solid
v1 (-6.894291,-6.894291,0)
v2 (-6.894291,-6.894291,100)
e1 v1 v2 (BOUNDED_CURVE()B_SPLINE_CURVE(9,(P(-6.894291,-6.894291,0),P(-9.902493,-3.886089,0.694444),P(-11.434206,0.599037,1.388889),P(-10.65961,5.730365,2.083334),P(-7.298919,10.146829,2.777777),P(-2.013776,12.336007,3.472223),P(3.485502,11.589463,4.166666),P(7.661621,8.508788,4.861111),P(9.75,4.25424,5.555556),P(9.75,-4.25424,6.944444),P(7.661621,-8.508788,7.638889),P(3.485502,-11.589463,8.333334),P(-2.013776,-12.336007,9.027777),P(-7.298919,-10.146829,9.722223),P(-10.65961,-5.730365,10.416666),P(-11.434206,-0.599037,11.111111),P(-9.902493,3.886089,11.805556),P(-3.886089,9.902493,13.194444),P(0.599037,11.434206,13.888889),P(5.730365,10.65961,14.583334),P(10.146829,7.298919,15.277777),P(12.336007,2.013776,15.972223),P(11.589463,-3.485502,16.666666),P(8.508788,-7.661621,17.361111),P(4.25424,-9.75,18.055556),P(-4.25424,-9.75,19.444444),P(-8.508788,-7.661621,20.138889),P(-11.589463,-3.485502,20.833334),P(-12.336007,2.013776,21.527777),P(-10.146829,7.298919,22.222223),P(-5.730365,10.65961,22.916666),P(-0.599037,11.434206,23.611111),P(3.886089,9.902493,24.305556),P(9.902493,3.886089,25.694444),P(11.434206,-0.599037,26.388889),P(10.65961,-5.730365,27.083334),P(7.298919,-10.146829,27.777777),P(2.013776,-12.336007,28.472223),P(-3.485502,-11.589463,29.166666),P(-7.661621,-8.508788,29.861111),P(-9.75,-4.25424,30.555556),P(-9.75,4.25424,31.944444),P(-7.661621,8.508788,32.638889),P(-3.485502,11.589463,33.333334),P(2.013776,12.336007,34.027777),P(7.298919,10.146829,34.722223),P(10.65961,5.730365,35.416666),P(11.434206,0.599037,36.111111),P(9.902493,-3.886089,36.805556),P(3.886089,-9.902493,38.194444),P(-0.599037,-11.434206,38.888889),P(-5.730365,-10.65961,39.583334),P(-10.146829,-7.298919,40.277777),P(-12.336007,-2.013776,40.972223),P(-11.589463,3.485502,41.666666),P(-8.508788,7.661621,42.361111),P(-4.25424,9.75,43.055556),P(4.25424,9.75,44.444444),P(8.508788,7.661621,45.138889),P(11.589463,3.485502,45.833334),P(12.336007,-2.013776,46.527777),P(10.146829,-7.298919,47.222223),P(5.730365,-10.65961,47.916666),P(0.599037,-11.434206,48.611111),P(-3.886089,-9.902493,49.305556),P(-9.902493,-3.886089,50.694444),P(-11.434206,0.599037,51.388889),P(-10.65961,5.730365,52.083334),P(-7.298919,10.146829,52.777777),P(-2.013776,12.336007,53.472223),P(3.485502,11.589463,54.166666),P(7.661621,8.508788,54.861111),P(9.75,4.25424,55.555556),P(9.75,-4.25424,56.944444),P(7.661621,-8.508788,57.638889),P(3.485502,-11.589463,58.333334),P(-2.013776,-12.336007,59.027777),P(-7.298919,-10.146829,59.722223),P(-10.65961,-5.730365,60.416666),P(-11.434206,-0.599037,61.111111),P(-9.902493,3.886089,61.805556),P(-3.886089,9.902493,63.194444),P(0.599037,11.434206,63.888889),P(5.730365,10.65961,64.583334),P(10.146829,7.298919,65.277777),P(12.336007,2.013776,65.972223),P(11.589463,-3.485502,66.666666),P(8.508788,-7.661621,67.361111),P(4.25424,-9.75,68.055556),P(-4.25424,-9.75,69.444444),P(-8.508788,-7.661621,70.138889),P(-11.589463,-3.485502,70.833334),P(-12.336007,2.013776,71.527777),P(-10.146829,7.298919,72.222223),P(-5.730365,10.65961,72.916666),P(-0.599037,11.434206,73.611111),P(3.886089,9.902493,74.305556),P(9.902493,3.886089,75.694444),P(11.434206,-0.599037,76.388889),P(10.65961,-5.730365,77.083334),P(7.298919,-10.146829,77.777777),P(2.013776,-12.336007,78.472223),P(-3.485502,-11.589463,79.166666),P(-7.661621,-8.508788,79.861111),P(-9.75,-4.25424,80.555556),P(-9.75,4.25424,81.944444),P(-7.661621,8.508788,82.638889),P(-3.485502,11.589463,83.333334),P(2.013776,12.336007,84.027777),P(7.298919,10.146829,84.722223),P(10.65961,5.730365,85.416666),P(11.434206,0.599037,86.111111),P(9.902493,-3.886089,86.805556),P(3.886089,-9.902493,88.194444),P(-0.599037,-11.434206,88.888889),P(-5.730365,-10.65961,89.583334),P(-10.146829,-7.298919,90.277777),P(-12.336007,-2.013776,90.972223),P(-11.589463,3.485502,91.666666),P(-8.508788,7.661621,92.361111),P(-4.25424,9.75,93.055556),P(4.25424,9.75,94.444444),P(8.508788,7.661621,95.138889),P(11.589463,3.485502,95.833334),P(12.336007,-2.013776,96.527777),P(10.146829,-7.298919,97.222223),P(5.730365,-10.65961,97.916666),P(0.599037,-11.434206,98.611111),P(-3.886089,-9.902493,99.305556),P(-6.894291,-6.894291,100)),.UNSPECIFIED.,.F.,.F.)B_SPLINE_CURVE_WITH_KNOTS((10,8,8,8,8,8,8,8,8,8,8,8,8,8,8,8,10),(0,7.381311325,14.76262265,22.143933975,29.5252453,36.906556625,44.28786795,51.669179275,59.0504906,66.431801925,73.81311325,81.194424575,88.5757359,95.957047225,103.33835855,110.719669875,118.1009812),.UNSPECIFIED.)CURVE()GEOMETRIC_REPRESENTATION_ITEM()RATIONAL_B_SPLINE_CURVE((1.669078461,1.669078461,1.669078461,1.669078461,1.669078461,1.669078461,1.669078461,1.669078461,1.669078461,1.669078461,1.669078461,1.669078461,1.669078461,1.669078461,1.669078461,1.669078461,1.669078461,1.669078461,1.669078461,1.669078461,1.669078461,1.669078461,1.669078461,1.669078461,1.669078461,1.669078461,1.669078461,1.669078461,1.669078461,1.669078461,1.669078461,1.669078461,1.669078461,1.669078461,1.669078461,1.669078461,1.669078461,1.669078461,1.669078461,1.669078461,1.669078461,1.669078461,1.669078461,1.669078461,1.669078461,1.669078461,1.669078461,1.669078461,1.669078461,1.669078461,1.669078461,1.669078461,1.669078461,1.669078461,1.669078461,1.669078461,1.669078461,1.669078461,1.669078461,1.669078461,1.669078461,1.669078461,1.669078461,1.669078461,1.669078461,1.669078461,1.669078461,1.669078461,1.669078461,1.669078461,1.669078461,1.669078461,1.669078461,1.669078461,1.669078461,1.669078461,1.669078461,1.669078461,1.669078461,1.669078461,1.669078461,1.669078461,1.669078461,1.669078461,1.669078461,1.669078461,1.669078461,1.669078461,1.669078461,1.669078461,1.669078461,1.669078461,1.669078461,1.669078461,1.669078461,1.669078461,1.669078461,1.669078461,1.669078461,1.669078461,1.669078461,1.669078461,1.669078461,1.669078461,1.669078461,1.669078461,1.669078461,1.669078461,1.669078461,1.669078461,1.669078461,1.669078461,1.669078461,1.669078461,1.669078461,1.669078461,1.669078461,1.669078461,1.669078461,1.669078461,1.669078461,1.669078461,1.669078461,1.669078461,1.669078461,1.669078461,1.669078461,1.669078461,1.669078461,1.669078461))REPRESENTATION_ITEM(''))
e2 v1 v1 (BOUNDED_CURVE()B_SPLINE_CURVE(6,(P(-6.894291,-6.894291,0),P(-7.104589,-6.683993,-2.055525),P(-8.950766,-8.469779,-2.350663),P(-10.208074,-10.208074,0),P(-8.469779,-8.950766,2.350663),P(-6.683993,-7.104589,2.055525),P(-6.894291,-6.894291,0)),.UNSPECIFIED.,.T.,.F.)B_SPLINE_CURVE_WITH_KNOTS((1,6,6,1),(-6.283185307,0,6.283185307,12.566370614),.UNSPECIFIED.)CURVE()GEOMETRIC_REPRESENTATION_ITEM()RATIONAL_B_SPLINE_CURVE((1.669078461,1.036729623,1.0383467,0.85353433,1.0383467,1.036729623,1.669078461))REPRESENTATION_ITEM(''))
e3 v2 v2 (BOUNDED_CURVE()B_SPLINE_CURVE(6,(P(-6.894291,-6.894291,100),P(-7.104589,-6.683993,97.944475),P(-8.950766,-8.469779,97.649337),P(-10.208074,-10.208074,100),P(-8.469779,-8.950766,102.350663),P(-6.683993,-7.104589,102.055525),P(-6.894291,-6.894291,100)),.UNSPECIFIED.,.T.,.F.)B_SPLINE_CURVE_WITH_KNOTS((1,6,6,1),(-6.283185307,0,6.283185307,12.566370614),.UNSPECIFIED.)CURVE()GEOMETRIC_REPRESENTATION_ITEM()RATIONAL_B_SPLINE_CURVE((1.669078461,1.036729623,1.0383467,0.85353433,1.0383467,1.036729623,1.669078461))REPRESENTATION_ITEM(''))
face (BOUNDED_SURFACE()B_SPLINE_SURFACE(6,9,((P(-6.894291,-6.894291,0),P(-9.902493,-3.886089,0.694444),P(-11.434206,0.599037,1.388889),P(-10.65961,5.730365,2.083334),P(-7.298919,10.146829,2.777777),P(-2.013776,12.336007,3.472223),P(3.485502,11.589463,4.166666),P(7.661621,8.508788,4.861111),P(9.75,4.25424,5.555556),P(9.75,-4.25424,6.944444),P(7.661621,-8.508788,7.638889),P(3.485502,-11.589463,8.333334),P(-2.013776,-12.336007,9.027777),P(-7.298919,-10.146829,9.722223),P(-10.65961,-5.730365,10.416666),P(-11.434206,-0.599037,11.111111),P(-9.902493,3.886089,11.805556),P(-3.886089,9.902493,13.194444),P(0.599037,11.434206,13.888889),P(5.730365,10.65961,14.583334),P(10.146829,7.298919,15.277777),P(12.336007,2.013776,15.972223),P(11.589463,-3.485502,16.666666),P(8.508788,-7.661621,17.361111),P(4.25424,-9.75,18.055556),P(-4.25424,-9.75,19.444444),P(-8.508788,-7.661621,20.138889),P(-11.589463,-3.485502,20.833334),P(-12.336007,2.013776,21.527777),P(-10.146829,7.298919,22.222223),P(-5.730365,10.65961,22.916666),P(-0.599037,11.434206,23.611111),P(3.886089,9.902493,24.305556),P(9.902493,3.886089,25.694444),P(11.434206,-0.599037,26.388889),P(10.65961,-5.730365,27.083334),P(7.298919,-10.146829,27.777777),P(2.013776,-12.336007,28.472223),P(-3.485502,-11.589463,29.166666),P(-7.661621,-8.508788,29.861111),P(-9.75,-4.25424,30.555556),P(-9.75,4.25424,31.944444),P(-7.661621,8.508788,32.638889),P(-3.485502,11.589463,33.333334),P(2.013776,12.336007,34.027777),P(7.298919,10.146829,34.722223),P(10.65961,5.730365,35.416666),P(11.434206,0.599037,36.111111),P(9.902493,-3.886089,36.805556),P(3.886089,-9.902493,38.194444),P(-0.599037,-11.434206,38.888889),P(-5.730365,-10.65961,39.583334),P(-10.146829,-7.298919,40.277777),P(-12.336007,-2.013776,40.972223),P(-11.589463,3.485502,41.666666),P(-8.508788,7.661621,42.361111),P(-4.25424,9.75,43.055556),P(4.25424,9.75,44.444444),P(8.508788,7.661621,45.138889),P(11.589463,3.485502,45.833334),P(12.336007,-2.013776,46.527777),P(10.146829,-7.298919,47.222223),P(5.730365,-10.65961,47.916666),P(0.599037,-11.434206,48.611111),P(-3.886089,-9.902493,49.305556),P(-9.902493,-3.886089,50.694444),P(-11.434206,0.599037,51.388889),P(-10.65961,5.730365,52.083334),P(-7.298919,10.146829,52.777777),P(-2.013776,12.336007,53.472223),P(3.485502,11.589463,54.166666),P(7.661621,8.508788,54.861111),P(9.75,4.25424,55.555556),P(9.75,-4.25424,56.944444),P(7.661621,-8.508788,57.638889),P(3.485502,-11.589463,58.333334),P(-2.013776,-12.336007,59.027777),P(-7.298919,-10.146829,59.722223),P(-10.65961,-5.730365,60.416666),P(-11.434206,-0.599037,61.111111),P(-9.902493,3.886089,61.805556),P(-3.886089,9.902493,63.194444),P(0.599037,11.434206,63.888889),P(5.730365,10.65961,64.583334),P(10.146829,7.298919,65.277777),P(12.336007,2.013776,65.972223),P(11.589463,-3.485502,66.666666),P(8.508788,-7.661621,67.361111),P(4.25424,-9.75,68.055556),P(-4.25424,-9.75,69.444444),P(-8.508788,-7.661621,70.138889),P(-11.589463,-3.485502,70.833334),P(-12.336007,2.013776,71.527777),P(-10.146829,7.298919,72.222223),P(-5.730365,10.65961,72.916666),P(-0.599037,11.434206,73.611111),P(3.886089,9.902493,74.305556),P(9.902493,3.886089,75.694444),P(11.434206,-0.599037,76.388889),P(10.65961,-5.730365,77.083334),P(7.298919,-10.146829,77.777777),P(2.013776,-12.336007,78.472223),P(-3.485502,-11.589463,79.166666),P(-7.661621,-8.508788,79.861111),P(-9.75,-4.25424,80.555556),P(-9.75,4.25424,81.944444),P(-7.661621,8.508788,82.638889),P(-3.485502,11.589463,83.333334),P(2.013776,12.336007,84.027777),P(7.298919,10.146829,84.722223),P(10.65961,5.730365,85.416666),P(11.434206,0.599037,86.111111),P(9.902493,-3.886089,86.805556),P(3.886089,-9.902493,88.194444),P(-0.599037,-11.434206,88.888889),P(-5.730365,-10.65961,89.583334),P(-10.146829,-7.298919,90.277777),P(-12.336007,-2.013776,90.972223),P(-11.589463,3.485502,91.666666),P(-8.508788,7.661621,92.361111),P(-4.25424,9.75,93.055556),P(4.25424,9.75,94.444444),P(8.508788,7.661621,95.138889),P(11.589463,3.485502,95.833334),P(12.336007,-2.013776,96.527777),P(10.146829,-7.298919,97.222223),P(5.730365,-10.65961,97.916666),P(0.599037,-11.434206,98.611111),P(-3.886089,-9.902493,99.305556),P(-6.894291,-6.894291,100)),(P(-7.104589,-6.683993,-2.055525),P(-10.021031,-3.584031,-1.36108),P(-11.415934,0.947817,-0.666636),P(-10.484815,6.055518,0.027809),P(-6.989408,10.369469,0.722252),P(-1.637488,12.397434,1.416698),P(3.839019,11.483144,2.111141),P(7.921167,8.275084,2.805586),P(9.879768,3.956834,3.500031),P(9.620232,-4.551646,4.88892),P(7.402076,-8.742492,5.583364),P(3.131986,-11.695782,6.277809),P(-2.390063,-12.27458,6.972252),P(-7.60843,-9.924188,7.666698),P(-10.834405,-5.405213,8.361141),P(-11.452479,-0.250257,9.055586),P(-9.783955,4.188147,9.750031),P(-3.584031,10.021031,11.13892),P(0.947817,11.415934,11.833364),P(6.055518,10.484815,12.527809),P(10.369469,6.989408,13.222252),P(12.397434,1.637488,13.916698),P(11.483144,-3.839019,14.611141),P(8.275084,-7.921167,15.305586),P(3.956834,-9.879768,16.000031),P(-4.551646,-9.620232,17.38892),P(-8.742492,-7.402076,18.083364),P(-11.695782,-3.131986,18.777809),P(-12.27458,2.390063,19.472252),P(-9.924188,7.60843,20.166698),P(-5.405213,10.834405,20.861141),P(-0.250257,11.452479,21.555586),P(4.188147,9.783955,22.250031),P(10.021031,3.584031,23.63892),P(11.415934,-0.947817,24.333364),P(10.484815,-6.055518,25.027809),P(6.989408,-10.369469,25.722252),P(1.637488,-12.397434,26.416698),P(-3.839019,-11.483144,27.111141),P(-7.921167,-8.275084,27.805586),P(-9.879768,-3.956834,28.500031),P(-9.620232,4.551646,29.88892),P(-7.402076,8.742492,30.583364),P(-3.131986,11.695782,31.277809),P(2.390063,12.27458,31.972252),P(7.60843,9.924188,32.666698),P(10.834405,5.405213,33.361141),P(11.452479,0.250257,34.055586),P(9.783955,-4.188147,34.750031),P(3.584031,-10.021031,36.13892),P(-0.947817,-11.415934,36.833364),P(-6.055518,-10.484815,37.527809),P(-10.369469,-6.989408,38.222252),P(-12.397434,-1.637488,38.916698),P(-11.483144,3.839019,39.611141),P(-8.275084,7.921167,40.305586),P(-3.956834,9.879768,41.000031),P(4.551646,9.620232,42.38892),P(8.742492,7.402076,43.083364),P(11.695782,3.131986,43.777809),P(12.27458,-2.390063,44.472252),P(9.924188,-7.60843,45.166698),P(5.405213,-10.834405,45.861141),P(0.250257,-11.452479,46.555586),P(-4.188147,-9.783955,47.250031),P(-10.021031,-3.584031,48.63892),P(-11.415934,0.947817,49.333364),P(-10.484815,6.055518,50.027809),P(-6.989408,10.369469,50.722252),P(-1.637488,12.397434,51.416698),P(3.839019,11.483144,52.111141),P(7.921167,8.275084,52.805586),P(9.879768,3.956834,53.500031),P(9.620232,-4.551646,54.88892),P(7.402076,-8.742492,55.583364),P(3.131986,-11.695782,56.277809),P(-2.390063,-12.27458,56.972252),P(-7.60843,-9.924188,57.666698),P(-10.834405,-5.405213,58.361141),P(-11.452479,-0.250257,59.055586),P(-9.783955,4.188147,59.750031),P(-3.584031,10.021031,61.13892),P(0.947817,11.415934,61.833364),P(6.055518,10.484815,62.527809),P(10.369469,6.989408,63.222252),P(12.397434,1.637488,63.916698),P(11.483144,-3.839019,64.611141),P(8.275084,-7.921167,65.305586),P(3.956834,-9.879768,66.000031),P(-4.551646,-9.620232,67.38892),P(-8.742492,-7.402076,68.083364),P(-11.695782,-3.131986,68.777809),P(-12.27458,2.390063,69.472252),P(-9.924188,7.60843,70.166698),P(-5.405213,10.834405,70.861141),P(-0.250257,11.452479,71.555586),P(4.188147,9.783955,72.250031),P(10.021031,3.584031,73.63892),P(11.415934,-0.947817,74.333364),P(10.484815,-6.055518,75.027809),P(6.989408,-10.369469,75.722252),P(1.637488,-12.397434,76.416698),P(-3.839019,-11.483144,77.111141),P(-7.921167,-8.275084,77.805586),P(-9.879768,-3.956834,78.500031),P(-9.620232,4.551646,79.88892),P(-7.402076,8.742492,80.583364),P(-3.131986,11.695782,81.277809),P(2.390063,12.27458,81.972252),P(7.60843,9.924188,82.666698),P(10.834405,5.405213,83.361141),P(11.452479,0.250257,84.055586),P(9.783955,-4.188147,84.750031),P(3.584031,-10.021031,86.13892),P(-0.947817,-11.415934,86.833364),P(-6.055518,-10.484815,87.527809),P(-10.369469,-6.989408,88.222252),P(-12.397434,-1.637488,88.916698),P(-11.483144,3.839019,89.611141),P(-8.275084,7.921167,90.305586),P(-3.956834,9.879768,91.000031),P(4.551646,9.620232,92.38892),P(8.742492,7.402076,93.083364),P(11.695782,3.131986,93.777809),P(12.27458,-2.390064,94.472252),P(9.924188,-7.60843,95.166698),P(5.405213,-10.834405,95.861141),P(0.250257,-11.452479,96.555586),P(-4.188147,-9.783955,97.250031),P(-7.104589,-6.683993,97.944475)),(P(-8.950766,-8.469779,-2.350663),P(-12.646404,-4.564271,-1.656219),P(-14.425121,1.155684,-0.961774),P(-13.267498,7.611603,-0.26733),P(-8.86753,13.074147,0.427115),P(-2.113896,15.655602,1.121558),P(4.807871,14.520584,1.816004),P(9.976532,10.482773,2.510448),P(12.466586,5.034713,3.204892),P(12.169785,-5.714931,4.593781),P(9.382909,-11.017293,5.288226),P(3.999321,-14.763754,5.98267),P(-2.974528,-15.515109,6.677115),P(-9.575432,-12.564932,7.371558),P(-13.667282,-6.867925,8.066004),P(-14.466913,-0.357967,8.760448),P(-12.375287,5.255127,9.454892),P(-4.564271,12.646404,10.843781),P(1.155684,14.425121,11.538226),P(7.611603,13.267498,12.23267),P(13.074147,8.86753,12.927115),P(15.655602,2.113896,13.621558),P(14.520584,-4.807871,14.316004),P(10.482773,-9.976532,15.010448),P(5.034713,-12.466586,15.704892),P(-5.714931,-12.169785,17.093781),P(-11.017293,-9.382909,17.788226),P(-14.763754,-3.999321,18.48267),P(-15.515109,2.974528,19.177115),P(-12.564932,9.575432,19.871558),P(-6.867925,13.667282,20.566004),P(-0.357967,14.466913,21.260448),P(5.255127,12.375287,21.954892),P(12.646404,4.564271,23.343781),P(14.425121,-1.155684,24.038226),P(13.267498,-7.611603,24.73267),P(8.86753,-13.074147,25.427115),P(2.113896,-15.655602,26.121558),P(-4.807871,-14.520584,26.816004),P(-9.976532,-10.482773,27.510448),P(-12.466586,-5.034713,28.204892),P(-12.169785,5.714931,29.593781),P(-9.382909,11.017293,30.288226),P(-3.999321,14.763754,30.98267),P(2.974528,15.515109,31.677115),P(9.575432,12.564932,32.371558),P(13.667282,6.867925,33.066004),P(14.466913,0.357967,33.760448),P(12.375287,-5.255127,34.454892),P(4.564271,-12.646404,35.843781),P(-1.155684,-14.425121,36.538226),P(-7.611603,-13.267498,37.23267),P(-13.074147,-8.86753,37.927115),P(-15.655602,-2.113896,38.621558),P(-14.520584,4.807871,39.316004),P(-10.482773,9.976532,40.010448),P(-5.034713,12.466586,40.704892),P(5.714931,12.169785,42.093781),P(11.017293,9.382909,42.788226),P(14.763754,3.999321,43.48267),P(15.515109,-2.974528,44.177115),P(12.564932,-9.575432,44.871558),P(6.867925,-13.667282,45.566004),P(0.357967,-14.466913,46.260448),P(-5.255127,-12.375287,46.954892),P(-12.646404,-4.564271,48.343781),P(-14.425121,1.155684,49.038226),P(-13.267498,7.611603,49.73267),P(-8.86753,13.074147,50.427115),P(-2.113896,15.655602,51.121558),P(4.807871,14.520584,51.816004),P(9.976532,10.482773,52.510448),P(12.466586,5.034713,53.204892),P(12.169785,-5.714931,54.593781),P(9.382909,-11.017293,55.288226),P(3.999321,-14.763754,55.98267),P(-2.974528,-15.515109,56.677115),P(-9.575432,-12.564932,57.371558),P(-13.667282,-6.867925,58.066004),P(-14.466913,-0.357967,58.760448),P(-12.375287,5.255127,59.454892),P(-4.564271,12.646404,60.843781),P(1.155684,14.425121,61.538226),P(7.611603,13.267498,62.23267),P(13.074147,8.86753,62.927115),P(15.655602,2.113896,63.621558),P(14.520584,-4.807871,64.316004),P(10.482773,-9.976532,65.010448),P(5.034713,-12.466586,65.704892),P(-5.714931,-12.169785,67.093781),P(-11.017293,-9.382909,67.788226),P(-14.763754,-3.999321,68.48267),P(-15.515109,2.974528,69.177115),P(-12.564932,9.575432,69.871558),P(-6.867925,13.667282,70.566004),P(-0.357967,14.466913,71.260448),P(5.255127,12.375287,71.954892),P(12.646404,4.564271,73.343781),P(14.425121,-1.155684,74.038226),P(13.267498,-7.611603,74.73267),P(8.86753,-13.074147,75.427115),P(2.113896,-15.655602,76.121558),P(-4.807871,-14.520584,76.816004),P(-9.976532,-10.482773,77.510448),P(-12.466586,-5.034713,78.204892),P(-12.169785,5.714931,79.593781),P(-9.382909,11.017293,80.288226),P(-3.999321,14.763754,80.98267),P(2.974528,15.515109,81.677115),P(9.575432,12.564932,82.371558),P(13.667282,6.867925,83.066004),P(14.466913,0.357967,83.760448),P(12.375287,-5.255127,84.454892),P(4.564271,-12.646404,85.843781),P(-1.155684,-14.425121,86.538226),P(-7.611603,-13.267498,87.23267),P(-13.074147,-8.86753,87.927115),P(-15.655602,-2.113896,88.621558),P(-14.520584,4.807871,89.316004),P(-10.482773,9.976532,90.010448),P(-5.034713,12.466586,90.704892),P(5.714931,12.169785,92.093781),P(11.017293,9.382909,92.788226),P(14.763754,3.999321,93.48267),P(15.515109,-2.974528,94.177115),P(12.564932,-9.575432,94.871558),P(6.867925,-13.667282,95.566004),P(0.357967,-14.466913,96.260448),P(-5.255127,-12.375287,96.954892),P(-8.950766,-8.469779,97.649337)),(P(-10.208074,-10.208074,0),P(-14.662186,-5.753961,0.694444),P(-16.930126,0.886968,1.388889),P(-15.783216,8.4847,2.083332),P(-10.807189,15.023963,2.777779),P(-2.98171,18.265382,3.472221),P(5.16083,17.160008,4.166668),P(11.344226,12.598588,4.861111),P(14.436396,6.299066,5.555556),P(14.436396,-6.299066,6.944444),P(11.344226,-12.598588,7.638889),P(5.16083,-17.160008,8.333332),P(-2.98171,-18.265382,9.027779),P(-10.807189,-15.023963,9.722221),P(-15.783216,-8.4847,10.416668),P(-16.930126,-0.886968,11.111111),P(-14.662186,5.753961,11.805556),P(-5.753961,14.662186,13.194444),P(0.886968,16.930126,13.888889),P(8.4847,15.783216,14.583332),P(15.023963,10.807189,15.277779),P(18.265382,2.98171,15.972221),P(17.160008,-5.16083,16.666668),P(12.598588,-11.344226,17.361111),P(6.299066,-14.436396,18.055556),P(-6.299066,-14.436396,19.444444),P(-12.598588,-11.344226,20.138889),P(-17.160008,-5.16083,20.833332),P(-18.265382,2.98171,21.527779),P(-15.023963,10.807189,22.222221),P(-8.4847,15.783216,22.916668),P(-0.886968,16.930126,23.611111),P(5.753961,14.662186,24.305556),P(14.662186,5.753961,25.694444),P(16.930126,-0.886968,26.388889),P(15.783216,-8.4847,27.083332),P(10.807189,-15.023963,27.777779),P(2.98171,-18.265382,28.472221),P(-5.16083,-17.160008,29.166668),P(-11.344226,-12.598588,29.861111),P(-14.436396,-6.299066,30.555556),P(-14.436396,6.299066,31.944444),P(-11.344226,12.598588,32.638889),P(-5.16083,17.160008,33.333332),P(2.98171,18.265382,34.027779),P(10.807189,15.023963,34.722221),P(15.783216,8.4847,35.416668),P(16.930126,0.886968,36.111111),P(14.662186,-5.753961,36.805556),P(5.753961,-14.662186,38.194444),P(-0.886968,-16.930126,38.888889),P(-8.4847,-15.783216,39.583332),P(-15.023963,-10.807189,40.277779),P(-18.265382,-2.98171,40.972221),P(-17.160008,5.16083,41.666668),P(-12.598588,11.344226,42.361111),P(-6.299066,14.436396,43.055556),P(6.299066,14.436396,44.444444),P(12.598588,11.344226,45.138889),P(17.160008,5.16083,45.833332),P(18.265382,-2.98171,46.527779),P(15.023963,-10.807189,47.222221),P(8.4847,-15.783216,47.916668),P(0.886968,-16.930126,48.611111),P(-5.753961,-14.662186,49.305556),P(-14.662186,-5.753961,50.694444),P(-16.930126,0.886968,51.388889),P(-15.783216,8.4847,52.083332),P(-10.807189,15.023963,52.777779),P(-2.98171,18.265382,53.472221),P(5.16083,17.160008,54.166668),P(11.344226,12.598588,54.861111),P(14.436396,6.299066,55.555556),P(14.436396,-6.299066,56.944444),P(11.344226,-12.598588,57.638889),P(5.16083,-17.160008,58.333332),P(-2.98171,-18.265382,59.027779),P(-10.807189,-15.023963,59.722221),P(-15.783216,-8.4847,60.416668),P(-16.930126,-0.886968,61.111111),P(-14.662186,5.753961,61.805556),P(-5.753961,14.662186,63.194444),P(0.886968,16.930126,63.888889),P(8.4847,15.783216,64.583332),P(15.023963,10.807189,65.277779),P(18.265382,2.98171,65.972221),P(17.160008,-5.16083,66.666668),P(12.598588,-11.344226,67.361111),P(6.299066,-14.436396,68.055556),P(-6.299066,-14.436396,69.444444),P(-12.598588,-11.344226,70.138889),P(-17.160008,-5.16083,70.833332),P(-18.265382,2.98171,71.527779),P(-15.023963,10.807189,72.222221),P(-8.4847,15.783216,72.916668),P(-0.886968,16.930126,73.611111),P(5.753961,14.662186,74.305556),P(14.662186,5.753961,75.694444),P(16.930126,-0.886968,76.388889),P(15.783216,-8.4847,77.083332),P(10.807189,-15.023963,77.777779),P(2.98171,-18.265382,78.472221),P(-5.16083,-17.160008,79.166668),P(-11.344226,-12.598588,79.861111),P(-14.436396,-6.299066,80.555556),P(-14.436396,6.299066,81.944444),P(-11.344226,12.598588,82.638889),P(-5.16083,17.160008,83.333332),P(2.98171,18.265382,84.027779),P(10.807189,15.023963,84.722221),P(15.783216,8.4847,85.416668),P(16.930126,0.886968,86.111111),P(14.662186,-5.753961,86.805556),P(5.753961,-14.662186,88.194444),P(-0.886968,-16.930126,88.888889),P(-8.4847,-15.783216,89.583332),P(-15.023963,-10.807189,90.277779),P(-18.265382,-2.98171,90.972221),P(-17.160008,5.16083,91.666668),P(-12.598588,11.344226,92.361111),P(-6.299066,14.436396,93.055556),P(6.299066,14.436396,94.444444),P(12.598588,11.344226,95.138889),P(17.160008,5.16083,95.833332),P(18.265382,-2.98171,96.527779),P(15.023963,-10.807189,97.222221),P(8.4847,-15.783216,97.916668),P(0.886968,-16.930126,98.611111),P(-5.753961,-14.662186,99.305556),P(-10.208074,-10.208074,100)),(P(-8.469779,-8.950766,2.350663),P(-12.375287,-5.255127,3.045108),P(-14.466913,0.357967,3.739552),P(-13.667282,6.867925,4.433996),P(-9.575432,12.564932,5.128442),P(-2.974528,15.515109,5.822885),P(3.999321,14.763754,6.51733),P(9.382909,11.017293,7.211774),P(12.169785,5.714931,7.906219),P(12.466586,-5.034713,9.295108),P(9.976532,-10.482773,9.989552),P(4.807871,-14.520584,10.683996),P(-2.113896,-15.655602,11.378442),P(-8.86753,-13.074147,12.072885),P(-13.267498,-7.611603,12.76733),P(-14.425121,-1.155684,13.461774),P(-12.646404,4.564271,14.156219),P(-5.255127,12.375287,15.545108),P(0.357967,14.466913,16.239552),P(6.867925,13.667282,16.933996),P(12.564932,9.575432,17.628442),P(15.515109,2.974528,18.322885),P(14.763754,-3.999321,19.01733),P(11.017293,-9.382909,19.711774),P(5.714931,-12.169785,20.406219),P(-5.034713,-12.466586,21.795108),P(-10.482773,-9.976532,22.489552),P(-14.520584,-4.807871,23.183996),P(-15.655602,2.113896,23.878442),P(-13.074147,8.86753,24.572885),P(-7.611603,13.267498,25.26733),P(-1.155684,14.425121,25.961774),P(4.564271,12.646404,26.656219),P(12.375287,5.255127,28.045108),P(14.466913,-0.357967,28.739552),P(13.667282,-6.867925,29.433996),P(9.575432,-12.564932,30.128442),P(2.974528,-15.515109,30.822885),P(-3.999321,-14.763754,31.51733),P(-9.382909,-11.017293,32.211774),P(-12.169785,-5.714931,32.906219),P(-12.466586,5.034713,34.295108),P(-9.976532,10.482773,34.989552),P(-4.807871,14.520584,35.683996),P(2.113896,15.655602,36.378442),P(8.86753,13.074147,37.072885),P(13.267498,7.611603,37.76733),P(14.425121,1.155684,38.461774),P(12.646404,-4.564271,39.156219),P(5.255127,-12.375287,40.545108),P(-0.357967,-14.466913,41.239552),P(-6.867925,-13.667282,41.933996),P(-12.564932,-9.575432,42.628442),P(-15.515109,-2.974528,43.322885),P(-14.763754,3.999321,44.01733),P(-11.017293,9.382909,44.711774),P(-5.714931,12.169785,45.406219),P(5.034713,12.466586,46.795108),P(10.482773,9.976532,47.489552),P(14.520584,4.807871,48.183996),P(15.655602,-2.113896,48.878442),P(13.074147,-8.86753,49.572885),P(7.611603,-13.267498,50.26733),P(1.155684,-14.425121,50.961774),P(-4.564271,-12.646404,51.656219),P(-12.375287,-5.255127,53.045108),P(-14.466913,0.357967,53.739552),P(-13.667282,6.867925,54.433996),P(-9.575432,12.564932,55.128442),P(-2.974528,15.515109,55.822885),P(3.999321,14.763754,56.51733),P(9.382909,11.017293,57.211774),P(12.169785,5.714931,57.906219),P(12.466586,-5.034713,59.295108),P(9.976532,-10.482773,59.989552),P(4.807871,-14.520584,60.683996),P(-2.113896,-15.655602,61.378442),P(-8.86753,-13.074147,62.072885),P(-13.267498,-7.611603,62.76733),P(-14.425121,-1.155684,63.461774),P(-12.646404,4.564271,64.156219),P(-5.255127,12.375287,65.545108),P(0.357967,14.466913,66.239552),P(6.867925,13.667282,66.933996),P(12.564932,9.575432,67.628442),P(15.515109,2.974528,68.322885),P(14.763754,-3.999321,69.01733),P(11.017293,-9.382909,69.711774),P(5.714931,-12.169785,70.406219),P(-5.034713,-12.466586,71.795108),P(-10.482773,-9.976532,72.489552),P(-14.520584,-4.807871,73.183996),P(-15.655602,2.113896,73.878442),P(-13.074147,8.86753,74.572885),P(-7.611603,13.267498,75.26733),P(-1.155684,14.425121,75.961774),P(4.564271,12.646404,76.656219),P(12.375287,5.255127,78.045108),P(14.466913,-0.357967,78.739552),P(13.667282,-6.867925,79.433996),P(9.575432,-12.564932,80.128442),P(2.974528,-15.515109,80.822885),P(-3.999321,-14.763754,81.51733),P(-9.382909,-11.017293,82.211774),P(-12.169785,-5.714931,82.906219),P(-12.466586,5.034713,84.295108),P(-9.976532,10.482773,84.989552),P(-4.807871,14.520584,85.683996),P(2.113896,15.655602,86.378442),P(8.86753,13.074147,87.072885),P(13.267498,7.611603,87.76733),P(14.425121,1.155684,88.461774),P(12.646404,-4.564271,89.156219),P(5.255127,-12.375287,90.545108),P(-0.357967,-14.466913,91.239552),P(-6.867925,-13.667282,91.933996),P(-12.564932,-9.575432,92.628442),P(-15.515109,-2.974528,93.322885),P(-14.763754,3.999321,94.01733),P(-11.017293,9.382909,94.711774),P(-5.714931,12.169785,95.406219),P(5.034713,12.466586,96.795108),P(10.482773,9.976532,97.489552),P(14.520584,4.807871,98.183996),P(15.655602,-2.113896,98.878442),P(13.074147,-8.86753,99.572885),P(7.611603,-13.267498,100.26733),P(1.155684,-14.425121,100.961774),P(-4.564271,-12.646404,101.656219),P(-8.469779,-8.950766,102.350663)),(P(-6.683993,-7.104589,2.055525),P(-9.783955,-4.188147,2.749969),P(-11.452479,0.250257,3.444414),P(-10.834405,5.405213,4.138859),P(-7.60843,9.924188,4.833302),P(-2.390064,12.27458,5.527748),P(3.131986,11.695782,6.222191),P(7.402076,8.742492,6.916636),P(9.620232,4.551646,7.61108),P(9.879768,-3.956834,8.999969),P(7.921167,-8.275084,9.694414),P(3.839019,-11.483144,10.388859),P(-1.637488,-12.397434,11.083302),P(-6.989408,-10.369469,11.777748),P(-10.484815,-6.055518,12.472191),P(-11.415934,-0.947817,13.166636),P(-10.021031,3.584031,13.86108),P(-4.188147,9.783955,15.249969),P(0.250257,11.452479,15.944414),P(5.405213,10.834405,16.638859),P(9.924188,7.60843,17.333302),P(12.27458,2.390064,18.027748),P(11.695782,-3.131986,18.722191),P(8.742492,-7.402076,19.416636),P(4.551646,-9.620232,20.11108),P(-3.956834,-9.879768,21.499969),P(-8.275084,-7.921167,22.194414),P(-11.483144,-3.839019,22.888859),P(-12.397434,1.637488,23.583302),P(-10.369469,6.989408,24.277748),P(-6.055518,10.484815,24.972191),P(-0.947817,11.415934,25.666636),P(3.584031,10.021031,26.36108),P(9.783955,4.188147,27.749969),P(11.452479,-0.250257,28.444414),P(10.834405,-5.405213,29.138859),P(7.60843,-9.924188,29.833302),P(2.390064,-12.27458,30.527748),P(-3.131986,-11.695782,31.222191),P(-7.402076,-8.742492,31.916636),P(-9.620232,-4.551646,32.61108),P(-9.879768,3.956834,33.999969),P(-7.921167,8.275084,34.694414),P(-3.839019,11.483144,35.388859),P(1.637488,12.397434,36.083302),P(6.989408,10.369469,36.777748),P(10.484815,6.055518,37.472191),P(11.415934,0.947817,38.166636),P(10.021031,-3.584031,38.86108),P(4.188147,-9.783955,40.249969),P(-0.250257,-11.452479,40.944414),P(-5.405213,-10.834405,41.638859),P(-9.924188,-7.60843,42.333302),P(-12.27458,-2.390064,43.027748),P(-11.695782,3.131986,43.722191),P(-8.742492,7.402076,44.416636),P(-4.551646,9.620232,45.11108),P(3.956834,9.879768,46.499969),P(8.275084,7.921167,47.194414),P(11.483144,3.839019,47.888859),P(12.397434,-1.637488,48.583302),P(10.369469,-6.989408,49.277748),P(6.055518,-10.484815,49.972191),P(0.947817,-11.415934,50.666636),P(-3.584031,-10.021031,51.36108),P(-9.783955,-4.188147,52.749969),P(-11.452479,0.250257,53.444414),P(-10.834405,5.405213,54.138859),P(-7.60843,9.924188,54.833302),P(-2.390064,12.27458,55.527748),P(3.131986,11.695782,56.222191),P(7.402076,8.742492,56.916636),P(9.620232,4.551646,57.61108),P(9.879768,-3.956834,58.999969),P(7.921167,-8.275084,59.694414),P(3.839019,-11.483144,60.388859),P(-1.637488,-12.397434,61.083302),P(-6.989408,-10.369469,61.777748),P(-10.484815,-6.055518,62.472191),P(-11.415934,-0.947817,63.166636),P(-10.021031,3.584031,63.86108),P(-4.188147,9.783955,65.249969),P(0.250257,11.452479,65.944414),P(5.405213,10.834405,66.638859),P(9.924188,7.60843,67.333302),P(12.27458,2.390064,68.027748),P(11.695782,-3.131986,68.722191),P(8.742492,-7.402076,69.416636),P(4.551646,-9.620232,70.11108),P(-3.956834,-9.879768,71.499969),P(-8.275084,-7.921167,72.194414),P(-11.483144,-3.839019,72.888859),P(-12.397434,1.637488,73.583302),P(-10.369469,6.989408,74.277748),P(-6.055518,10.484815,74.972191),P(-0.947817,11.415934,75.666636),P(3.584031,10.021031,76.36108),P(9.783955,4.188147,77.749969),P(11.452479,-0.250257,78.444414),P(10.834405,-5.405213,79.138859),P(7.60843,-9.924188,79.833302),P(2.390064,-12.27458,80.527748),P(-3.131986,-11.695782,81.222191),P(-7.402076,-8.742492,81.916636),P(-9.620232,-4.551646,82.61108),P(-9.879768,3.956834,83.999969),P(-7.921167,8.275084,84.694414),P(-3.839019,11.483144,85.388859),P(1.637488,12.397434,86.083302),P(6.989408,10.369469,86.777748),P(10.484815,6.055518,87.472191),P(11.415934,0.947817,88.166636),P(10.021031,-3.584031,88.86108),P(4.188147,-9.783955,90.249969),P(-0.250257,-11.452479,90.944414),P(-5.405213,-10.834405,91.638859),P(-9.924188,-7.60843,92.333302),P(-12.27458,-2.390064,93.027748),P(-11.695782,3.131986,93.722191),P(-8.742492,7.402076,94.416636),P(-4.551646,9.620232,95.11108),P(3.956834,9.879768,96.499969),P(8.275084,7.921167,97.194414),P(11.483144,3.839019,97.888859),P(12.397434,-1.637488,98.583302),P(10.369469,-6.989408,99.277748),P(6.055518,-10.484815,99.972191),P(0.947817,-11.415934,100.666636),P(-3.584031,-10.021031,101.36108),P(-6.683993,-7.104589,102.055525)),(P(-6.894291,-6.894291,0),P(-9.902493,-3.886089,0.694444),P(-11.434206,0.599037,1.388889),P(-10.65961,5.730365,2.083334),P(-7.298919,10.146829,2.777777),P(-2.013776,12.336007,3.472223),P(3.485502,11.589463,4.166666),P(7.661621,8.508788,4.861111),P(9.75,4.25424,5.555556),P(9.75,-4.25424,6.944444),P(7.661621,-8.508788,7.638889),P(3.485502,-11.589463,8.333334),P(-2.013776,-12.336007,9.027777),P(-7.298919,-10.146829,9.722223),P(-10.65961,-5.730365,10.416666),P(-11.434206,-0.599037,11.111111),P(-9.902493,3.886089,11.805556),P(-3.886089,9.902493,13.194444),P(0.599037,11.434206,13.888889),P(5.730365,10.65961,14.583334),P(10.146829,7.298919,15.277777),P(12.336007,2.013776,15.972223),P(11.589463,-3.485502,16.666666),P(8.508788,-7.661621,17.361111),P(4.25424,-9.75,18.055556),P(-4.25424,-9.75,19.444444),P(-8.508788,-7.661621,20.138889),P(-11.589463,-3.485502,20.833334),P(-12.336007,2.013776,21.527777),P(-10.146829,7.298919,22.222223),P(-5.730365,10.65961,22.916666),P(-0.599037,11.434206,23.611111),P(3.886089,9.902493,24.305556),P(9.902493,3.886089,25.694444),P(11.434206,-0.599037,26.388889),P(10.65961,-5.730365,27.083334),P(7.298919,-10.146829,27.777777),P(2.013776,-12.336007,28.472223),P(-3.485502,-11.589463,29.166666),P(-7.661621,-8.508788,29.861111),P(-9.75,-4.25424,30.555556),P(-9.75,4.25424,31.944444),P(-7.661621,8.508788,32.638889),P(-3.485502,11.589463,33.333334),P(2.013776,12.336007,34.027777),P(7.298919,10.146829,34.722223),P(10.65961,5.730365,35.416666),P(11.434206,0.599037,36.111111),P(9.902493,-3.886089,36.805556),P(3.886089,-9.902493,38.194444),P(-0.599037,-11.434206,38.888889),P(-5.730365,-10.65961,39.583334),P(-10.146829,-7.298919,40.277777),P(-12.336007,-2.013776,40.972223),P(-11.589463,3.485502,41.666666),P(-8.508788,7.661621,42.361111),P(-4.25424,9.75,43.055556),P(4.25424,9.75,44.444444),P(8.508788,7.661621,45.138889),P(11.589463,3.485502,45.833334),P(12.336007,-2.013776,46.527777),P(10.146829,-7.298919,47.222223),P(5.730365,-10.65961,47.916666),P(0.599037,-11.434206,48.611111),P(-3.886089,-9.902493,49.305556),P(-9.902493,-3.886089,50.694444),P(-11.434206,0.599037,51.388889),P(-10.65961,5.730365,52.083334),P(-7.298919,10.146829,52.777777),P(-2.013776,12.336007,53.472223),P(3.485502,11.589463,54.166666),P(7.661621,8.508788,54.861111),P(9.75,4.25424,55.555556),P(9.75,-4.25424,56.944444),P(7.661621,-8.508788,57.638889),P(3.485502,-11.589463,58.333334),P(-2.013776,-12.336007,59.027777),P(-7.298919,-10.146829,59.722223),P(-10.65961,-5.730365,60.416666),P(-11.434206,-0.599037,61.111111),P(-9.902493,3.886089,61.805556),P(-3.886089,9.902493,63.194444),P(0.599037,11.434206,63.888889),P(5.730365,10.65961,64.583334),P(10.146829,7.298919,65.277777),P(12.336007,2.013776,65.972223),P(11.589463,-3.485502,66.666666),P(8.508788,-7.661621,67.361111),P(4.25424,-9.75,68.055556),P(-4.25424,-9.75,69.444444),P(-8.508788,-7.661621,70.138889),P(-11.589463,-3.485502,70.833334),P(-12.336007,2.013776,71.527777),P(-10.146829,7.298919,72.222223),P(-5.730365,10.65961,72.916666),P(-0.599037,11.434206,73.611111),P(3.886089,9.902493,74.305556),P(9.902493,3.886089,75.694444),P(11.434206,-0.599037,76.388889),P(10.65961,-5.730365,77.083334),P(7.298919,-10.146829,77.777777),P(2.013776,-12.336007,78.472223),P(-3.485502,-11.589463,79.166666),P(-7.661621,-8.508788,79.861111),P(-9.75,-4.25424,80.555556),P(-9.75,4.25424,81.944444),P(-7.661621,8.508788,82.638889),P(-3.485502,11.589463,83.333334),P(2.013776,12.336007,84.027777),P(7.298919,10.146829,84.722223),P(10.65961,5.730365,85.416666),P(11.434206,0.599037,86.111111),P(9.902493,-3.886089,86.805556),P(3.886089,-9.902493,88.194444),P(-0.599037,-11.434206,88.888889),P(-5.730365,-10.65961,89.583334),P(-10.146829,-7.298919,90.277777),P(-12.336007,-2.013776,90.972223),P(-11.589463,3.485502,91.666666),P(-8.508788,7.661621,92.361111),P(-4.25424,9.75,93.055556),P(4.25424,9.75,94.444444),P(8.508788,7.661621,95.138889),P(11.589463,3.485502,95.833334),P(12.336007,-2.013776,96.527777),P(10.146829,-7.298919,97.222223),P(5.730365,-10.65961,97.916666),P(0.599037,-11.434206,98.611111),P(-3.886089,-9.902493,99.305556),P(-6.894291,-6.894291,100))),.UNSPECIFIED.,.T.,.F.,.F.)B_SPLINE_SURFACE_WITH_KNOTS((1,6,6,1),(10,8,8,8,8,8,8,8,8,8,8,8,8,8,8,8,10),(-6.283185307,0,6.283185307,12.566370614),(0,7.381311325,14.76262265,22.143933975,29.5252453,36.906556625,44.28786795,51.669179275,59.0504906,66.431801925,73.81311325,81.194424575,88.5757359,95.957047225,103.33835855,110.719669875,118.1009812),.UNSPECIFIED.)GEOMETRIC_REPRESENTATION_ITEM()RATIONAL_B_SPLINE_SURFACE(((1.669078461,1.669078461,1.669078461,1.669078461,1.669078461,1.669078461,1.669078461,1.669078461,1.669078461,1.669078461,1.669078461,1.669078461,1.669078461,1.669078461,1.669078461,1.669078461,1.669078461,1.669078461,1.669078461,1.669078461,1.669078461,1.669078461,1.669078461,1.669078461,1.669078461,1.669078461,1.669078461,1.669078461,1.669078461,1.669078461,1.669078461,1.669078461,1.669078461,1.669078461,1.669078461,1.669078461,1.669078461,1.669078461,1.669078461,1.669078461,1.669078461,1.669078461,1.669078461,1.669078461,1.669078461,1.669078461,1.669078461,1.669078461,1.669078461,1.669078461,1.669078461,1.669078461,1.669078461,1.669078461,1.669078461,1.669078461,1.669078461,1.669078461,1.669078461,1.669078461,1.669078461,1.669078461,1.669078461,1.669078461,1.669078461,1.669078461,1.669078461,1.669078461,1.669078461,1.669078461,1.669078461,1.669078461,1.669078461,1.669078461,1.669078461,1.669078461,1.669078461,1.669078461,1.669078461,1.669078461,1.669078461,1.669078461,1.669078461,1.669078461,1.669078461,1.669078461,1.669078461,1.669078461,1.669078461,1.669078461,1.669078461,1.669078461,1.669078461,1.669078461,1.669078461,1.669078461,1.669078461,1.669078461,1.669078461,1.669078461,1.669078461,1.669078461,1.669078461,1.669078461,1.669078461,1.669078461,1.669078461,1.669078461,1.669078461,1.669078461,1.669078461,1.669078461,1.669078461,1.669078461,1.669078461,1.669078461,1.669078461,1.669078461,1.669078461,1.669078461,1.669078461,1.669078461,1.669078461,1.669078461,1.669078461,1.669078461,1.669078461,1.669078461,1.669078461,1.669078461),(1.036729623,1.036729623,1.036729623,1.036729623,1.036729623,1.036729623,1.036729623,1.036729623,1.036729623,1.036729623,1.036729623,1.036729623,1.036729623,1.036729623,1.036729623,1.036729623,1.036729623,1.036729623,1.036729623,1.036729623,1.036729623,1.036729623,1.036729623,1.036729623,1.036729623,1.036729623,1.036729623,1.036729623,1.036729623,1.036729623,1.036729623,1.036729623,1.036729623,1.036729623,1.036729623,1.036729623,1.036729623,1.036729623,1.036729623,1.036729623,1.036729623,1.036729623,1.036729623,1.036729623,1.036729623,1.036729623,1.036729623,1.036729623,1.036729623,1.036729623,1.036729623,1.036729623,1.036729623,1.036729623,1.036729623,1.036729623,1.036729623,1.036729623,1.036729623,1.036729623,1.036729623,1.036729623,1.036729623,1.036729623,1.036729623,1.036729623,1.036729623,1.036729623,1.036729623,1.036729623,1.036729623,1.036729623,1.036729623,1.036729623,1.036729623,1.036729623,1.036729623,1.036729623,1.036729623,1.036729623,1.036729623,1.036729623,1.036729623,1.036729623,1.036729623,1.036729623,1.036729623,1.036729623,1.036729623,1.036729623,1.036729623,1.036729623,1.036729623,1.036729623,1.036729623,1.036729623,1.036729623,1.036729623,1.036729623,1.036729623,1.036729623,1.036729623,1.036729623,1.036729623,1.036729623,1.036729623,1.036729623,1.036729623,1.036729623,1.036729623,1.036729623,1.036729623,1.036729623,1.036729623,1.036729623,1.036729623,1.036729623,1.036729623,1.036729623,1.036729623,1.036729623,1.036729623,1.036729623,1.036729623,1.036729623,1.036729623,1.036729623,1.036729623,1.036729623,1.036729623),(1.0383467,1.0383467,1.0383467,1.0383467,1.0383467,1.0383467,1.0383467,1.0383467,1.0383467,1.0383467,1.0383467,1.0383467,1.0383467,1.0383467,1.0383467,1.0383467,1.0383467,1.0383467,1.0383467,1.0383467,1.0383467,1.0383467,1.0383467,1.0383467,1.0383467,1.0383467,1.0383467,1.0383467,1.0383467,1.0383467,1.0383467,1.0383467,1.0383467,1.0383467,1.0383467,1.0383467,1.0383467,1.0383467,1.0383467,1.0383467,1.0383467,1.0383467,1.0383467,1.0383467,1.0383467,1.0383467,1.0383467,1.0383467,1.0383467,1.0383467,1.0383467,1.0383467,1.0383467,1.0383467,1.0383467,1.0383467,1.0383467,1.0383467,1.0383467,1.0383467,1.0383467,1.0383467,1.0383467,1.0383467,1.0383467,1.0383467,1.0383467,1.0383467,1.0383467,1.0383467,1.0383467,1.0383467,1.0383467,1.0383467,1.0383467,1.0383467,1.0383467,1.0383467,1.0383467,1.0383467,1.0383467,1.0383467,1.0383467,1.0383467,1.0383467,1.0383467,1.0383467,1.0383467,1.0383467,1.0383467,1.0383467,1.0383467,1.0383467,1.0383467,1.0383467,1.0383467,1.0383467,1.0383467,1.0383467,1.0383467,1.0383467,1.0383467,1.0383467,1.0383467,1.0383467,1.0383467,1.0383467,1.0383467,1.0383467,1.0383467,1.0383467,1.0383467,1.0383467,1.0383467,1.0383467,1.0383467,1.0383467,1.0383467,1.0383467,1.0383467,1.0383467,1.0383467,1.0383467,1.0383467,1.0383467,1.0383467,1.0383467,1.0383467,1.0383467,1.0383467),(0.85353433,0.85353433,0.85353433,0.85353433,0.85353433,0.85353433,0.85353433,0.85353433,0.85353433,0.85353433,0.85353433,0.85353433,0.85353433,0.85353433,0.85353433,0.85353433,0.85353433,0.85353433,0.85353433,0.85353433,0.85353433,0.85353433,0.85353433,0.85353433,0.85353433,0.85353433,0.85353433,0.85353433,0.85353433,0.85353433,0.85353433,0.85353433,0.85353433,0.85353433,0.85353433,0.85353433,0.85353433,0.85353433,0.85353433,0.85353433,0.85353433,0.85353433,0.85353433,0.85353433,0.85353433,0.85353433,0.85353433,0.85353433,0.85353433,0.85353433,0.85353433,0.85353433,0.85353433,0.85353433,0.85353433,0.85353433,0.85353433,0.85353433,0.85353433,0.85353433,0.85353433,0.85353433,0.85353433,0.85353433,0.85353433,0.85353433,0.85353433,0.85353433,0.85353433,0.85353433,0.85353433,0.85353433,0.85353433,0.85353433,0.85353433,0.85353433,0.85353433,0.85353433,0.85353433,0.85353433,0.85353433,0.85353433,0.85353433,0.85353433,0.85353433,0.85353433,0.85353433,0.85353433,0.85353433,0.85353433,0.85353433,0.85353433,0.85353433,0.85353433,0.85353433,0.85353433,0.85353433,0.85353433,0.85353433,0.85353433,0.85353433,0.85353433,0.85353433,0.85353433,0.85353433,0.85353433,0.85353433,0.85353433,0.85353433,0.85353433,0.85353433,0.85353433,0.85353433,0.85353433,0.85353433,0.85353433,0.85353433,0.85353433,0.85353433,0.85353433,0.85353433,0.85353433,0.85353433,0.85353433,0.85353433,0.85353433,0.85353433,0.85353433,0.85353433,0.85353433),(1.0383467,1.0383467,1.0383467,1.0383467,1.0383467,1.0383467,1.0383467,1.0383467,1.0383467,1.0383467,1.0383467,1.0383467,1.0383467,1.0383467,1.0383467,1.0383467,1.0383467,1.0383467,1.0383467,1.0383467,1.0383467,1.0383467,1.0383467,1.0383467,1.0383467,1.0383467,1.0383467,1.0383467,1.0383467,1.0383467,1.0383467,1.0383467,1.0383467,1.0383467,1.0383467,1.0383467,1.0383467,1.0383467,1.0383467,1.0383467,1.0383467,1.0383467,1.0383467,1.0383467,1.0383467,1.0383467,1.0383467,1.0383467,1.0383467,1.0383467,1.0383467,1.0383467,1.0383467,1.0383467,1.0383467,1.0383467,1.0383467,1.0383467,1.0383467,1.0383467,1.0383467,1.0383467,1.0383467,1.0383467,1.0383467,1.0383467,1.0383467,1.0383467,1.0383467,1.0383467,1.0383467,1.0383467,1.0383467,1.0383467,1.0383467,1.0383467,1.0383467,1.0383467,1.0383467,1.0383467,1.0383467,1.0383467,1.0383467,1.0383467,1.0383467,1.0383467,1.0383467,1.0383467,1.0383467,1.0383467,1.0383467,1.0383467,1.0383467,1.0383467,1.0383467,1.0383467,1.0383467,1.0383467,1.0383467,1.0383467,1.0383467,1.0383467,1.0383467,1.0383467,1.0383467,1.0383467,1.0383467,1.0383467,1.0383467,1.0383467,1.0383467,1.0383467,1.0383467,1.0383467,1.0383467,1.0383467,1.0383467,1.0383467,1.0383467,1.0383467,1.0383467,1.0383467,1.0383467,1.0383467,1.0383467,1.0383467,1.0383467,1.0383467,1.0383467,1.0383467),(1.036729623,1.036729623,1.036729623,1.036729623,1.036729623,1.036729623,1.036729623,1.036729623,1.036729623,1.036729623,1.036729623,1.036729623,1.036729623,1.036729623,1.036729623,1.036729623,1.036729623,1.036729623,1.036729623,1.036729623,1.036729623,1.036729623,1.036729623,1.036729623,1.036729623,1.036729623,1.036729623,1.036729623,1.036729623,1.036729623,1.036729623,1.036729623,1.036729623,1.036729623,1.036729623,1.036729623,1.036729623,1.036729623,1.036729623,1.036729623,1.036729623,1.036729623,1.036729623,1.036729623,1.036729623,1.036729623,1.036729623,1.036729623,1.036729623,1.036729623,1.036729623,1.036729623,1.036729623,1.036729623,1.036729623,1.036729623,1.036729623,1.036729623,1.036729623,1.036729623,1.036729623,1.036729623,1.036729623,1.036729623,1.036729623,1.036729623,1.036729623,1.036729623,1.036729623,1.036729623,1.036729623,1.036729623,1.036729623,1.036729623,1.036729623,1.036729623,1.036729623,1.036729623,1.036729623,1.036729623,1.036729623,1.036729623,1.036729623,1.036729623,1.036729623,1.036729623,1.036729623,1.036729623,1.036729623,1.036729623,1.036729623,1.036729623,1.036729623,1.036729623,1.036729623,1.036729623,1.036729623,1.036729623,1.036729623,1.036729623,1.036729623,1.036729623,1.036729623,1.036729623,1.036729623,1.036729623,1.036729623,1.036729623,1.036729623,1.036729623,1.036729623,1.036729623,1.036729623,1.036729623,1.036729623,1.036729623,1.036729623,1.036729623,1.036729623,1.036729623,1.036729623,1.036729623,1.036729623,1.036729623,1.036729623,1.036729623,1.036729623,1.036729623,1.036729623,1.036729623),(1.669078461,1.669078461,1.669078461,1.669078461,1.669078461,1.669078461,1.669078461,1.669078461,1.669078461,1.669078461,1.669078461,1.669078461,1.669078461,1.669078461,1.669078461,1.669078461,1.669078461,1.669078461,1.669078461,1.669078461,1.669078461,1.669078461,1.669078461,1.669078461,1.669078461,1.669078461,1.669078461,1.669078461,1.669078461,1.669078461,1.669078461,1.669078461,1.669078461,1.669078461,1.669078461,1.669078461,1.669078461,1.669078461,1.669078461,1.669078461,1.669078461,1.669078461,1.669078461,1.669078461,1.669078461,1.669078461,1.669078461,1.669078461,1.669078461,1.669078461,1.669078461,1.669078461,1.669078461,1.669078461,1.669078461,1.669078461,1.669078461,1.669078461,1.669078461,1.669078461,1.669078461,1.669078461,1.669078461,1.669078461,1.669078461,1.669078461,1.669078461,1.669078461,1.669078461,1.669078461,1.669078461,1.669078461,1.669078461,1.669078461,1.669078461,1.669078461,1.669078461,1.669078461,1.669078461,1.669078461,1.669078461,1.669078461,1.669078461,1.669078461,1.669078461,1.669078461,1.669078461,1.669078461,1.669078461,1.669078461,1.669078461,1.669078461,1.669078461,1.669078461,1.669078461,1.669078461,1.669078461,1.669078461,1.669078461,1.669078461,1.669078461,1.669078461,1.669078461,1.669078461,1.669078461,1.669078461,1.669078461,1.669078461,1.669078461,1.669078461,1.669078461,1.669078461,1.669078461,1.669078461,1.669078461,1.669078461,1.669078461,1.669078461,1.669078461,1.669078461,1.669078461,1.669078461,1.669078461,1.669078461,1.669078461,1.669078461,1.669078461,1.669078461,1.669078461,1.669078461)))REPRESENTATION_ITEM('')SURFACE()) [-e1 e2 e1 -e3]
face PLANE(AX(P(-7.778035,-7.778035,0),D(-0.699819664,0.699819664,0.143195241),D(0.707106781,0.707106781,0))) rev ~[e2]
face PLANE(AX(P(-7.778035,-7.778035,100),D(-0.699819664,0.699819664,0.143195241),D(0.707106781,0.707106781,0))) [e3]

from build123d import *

# Parameters (mm, degrees)
SWEEP2_PITCH       = 10
SWEEP2_HEIGHT      = 100
SWEEP2_RADIUS      = 11
SWEEP2_START_ANGLE = -135
SWEEP2_PROFILE_R   = 1.25


with BuildPart() as part:
    # Sweep2: sweep along a helix
    with BuildLine() as sweep2_path:
        add(Helix(SWEEP2_PITCH, SWEEP2_HEIGHT, SWEEP2_RADIUS, center=(0, 0, 0), direction=(0, 0, 1), lefthand=True, mode=Mode.PRIVATE).rotate(Axis((0, 0, 0), (0, 0, 1)), SWEEP2_START_ANGLE))
    # Sweep2 profile (on start of the path) → Sweep2 (sweep)
    with BuildSketch(Plane(origin=(-7.778174593, -7.778174593, 0), x_dir=(0.707106781186621, 0.7071067811864743, 0), z_dir=(-0.6998196635161218, 0.6998196635162669, 0.143195241234341))):
        Circle(SWEEP2_PROFILE_R)
    sweep(path=sweep2_path.line, is_frenet=True)


solid = part.part
